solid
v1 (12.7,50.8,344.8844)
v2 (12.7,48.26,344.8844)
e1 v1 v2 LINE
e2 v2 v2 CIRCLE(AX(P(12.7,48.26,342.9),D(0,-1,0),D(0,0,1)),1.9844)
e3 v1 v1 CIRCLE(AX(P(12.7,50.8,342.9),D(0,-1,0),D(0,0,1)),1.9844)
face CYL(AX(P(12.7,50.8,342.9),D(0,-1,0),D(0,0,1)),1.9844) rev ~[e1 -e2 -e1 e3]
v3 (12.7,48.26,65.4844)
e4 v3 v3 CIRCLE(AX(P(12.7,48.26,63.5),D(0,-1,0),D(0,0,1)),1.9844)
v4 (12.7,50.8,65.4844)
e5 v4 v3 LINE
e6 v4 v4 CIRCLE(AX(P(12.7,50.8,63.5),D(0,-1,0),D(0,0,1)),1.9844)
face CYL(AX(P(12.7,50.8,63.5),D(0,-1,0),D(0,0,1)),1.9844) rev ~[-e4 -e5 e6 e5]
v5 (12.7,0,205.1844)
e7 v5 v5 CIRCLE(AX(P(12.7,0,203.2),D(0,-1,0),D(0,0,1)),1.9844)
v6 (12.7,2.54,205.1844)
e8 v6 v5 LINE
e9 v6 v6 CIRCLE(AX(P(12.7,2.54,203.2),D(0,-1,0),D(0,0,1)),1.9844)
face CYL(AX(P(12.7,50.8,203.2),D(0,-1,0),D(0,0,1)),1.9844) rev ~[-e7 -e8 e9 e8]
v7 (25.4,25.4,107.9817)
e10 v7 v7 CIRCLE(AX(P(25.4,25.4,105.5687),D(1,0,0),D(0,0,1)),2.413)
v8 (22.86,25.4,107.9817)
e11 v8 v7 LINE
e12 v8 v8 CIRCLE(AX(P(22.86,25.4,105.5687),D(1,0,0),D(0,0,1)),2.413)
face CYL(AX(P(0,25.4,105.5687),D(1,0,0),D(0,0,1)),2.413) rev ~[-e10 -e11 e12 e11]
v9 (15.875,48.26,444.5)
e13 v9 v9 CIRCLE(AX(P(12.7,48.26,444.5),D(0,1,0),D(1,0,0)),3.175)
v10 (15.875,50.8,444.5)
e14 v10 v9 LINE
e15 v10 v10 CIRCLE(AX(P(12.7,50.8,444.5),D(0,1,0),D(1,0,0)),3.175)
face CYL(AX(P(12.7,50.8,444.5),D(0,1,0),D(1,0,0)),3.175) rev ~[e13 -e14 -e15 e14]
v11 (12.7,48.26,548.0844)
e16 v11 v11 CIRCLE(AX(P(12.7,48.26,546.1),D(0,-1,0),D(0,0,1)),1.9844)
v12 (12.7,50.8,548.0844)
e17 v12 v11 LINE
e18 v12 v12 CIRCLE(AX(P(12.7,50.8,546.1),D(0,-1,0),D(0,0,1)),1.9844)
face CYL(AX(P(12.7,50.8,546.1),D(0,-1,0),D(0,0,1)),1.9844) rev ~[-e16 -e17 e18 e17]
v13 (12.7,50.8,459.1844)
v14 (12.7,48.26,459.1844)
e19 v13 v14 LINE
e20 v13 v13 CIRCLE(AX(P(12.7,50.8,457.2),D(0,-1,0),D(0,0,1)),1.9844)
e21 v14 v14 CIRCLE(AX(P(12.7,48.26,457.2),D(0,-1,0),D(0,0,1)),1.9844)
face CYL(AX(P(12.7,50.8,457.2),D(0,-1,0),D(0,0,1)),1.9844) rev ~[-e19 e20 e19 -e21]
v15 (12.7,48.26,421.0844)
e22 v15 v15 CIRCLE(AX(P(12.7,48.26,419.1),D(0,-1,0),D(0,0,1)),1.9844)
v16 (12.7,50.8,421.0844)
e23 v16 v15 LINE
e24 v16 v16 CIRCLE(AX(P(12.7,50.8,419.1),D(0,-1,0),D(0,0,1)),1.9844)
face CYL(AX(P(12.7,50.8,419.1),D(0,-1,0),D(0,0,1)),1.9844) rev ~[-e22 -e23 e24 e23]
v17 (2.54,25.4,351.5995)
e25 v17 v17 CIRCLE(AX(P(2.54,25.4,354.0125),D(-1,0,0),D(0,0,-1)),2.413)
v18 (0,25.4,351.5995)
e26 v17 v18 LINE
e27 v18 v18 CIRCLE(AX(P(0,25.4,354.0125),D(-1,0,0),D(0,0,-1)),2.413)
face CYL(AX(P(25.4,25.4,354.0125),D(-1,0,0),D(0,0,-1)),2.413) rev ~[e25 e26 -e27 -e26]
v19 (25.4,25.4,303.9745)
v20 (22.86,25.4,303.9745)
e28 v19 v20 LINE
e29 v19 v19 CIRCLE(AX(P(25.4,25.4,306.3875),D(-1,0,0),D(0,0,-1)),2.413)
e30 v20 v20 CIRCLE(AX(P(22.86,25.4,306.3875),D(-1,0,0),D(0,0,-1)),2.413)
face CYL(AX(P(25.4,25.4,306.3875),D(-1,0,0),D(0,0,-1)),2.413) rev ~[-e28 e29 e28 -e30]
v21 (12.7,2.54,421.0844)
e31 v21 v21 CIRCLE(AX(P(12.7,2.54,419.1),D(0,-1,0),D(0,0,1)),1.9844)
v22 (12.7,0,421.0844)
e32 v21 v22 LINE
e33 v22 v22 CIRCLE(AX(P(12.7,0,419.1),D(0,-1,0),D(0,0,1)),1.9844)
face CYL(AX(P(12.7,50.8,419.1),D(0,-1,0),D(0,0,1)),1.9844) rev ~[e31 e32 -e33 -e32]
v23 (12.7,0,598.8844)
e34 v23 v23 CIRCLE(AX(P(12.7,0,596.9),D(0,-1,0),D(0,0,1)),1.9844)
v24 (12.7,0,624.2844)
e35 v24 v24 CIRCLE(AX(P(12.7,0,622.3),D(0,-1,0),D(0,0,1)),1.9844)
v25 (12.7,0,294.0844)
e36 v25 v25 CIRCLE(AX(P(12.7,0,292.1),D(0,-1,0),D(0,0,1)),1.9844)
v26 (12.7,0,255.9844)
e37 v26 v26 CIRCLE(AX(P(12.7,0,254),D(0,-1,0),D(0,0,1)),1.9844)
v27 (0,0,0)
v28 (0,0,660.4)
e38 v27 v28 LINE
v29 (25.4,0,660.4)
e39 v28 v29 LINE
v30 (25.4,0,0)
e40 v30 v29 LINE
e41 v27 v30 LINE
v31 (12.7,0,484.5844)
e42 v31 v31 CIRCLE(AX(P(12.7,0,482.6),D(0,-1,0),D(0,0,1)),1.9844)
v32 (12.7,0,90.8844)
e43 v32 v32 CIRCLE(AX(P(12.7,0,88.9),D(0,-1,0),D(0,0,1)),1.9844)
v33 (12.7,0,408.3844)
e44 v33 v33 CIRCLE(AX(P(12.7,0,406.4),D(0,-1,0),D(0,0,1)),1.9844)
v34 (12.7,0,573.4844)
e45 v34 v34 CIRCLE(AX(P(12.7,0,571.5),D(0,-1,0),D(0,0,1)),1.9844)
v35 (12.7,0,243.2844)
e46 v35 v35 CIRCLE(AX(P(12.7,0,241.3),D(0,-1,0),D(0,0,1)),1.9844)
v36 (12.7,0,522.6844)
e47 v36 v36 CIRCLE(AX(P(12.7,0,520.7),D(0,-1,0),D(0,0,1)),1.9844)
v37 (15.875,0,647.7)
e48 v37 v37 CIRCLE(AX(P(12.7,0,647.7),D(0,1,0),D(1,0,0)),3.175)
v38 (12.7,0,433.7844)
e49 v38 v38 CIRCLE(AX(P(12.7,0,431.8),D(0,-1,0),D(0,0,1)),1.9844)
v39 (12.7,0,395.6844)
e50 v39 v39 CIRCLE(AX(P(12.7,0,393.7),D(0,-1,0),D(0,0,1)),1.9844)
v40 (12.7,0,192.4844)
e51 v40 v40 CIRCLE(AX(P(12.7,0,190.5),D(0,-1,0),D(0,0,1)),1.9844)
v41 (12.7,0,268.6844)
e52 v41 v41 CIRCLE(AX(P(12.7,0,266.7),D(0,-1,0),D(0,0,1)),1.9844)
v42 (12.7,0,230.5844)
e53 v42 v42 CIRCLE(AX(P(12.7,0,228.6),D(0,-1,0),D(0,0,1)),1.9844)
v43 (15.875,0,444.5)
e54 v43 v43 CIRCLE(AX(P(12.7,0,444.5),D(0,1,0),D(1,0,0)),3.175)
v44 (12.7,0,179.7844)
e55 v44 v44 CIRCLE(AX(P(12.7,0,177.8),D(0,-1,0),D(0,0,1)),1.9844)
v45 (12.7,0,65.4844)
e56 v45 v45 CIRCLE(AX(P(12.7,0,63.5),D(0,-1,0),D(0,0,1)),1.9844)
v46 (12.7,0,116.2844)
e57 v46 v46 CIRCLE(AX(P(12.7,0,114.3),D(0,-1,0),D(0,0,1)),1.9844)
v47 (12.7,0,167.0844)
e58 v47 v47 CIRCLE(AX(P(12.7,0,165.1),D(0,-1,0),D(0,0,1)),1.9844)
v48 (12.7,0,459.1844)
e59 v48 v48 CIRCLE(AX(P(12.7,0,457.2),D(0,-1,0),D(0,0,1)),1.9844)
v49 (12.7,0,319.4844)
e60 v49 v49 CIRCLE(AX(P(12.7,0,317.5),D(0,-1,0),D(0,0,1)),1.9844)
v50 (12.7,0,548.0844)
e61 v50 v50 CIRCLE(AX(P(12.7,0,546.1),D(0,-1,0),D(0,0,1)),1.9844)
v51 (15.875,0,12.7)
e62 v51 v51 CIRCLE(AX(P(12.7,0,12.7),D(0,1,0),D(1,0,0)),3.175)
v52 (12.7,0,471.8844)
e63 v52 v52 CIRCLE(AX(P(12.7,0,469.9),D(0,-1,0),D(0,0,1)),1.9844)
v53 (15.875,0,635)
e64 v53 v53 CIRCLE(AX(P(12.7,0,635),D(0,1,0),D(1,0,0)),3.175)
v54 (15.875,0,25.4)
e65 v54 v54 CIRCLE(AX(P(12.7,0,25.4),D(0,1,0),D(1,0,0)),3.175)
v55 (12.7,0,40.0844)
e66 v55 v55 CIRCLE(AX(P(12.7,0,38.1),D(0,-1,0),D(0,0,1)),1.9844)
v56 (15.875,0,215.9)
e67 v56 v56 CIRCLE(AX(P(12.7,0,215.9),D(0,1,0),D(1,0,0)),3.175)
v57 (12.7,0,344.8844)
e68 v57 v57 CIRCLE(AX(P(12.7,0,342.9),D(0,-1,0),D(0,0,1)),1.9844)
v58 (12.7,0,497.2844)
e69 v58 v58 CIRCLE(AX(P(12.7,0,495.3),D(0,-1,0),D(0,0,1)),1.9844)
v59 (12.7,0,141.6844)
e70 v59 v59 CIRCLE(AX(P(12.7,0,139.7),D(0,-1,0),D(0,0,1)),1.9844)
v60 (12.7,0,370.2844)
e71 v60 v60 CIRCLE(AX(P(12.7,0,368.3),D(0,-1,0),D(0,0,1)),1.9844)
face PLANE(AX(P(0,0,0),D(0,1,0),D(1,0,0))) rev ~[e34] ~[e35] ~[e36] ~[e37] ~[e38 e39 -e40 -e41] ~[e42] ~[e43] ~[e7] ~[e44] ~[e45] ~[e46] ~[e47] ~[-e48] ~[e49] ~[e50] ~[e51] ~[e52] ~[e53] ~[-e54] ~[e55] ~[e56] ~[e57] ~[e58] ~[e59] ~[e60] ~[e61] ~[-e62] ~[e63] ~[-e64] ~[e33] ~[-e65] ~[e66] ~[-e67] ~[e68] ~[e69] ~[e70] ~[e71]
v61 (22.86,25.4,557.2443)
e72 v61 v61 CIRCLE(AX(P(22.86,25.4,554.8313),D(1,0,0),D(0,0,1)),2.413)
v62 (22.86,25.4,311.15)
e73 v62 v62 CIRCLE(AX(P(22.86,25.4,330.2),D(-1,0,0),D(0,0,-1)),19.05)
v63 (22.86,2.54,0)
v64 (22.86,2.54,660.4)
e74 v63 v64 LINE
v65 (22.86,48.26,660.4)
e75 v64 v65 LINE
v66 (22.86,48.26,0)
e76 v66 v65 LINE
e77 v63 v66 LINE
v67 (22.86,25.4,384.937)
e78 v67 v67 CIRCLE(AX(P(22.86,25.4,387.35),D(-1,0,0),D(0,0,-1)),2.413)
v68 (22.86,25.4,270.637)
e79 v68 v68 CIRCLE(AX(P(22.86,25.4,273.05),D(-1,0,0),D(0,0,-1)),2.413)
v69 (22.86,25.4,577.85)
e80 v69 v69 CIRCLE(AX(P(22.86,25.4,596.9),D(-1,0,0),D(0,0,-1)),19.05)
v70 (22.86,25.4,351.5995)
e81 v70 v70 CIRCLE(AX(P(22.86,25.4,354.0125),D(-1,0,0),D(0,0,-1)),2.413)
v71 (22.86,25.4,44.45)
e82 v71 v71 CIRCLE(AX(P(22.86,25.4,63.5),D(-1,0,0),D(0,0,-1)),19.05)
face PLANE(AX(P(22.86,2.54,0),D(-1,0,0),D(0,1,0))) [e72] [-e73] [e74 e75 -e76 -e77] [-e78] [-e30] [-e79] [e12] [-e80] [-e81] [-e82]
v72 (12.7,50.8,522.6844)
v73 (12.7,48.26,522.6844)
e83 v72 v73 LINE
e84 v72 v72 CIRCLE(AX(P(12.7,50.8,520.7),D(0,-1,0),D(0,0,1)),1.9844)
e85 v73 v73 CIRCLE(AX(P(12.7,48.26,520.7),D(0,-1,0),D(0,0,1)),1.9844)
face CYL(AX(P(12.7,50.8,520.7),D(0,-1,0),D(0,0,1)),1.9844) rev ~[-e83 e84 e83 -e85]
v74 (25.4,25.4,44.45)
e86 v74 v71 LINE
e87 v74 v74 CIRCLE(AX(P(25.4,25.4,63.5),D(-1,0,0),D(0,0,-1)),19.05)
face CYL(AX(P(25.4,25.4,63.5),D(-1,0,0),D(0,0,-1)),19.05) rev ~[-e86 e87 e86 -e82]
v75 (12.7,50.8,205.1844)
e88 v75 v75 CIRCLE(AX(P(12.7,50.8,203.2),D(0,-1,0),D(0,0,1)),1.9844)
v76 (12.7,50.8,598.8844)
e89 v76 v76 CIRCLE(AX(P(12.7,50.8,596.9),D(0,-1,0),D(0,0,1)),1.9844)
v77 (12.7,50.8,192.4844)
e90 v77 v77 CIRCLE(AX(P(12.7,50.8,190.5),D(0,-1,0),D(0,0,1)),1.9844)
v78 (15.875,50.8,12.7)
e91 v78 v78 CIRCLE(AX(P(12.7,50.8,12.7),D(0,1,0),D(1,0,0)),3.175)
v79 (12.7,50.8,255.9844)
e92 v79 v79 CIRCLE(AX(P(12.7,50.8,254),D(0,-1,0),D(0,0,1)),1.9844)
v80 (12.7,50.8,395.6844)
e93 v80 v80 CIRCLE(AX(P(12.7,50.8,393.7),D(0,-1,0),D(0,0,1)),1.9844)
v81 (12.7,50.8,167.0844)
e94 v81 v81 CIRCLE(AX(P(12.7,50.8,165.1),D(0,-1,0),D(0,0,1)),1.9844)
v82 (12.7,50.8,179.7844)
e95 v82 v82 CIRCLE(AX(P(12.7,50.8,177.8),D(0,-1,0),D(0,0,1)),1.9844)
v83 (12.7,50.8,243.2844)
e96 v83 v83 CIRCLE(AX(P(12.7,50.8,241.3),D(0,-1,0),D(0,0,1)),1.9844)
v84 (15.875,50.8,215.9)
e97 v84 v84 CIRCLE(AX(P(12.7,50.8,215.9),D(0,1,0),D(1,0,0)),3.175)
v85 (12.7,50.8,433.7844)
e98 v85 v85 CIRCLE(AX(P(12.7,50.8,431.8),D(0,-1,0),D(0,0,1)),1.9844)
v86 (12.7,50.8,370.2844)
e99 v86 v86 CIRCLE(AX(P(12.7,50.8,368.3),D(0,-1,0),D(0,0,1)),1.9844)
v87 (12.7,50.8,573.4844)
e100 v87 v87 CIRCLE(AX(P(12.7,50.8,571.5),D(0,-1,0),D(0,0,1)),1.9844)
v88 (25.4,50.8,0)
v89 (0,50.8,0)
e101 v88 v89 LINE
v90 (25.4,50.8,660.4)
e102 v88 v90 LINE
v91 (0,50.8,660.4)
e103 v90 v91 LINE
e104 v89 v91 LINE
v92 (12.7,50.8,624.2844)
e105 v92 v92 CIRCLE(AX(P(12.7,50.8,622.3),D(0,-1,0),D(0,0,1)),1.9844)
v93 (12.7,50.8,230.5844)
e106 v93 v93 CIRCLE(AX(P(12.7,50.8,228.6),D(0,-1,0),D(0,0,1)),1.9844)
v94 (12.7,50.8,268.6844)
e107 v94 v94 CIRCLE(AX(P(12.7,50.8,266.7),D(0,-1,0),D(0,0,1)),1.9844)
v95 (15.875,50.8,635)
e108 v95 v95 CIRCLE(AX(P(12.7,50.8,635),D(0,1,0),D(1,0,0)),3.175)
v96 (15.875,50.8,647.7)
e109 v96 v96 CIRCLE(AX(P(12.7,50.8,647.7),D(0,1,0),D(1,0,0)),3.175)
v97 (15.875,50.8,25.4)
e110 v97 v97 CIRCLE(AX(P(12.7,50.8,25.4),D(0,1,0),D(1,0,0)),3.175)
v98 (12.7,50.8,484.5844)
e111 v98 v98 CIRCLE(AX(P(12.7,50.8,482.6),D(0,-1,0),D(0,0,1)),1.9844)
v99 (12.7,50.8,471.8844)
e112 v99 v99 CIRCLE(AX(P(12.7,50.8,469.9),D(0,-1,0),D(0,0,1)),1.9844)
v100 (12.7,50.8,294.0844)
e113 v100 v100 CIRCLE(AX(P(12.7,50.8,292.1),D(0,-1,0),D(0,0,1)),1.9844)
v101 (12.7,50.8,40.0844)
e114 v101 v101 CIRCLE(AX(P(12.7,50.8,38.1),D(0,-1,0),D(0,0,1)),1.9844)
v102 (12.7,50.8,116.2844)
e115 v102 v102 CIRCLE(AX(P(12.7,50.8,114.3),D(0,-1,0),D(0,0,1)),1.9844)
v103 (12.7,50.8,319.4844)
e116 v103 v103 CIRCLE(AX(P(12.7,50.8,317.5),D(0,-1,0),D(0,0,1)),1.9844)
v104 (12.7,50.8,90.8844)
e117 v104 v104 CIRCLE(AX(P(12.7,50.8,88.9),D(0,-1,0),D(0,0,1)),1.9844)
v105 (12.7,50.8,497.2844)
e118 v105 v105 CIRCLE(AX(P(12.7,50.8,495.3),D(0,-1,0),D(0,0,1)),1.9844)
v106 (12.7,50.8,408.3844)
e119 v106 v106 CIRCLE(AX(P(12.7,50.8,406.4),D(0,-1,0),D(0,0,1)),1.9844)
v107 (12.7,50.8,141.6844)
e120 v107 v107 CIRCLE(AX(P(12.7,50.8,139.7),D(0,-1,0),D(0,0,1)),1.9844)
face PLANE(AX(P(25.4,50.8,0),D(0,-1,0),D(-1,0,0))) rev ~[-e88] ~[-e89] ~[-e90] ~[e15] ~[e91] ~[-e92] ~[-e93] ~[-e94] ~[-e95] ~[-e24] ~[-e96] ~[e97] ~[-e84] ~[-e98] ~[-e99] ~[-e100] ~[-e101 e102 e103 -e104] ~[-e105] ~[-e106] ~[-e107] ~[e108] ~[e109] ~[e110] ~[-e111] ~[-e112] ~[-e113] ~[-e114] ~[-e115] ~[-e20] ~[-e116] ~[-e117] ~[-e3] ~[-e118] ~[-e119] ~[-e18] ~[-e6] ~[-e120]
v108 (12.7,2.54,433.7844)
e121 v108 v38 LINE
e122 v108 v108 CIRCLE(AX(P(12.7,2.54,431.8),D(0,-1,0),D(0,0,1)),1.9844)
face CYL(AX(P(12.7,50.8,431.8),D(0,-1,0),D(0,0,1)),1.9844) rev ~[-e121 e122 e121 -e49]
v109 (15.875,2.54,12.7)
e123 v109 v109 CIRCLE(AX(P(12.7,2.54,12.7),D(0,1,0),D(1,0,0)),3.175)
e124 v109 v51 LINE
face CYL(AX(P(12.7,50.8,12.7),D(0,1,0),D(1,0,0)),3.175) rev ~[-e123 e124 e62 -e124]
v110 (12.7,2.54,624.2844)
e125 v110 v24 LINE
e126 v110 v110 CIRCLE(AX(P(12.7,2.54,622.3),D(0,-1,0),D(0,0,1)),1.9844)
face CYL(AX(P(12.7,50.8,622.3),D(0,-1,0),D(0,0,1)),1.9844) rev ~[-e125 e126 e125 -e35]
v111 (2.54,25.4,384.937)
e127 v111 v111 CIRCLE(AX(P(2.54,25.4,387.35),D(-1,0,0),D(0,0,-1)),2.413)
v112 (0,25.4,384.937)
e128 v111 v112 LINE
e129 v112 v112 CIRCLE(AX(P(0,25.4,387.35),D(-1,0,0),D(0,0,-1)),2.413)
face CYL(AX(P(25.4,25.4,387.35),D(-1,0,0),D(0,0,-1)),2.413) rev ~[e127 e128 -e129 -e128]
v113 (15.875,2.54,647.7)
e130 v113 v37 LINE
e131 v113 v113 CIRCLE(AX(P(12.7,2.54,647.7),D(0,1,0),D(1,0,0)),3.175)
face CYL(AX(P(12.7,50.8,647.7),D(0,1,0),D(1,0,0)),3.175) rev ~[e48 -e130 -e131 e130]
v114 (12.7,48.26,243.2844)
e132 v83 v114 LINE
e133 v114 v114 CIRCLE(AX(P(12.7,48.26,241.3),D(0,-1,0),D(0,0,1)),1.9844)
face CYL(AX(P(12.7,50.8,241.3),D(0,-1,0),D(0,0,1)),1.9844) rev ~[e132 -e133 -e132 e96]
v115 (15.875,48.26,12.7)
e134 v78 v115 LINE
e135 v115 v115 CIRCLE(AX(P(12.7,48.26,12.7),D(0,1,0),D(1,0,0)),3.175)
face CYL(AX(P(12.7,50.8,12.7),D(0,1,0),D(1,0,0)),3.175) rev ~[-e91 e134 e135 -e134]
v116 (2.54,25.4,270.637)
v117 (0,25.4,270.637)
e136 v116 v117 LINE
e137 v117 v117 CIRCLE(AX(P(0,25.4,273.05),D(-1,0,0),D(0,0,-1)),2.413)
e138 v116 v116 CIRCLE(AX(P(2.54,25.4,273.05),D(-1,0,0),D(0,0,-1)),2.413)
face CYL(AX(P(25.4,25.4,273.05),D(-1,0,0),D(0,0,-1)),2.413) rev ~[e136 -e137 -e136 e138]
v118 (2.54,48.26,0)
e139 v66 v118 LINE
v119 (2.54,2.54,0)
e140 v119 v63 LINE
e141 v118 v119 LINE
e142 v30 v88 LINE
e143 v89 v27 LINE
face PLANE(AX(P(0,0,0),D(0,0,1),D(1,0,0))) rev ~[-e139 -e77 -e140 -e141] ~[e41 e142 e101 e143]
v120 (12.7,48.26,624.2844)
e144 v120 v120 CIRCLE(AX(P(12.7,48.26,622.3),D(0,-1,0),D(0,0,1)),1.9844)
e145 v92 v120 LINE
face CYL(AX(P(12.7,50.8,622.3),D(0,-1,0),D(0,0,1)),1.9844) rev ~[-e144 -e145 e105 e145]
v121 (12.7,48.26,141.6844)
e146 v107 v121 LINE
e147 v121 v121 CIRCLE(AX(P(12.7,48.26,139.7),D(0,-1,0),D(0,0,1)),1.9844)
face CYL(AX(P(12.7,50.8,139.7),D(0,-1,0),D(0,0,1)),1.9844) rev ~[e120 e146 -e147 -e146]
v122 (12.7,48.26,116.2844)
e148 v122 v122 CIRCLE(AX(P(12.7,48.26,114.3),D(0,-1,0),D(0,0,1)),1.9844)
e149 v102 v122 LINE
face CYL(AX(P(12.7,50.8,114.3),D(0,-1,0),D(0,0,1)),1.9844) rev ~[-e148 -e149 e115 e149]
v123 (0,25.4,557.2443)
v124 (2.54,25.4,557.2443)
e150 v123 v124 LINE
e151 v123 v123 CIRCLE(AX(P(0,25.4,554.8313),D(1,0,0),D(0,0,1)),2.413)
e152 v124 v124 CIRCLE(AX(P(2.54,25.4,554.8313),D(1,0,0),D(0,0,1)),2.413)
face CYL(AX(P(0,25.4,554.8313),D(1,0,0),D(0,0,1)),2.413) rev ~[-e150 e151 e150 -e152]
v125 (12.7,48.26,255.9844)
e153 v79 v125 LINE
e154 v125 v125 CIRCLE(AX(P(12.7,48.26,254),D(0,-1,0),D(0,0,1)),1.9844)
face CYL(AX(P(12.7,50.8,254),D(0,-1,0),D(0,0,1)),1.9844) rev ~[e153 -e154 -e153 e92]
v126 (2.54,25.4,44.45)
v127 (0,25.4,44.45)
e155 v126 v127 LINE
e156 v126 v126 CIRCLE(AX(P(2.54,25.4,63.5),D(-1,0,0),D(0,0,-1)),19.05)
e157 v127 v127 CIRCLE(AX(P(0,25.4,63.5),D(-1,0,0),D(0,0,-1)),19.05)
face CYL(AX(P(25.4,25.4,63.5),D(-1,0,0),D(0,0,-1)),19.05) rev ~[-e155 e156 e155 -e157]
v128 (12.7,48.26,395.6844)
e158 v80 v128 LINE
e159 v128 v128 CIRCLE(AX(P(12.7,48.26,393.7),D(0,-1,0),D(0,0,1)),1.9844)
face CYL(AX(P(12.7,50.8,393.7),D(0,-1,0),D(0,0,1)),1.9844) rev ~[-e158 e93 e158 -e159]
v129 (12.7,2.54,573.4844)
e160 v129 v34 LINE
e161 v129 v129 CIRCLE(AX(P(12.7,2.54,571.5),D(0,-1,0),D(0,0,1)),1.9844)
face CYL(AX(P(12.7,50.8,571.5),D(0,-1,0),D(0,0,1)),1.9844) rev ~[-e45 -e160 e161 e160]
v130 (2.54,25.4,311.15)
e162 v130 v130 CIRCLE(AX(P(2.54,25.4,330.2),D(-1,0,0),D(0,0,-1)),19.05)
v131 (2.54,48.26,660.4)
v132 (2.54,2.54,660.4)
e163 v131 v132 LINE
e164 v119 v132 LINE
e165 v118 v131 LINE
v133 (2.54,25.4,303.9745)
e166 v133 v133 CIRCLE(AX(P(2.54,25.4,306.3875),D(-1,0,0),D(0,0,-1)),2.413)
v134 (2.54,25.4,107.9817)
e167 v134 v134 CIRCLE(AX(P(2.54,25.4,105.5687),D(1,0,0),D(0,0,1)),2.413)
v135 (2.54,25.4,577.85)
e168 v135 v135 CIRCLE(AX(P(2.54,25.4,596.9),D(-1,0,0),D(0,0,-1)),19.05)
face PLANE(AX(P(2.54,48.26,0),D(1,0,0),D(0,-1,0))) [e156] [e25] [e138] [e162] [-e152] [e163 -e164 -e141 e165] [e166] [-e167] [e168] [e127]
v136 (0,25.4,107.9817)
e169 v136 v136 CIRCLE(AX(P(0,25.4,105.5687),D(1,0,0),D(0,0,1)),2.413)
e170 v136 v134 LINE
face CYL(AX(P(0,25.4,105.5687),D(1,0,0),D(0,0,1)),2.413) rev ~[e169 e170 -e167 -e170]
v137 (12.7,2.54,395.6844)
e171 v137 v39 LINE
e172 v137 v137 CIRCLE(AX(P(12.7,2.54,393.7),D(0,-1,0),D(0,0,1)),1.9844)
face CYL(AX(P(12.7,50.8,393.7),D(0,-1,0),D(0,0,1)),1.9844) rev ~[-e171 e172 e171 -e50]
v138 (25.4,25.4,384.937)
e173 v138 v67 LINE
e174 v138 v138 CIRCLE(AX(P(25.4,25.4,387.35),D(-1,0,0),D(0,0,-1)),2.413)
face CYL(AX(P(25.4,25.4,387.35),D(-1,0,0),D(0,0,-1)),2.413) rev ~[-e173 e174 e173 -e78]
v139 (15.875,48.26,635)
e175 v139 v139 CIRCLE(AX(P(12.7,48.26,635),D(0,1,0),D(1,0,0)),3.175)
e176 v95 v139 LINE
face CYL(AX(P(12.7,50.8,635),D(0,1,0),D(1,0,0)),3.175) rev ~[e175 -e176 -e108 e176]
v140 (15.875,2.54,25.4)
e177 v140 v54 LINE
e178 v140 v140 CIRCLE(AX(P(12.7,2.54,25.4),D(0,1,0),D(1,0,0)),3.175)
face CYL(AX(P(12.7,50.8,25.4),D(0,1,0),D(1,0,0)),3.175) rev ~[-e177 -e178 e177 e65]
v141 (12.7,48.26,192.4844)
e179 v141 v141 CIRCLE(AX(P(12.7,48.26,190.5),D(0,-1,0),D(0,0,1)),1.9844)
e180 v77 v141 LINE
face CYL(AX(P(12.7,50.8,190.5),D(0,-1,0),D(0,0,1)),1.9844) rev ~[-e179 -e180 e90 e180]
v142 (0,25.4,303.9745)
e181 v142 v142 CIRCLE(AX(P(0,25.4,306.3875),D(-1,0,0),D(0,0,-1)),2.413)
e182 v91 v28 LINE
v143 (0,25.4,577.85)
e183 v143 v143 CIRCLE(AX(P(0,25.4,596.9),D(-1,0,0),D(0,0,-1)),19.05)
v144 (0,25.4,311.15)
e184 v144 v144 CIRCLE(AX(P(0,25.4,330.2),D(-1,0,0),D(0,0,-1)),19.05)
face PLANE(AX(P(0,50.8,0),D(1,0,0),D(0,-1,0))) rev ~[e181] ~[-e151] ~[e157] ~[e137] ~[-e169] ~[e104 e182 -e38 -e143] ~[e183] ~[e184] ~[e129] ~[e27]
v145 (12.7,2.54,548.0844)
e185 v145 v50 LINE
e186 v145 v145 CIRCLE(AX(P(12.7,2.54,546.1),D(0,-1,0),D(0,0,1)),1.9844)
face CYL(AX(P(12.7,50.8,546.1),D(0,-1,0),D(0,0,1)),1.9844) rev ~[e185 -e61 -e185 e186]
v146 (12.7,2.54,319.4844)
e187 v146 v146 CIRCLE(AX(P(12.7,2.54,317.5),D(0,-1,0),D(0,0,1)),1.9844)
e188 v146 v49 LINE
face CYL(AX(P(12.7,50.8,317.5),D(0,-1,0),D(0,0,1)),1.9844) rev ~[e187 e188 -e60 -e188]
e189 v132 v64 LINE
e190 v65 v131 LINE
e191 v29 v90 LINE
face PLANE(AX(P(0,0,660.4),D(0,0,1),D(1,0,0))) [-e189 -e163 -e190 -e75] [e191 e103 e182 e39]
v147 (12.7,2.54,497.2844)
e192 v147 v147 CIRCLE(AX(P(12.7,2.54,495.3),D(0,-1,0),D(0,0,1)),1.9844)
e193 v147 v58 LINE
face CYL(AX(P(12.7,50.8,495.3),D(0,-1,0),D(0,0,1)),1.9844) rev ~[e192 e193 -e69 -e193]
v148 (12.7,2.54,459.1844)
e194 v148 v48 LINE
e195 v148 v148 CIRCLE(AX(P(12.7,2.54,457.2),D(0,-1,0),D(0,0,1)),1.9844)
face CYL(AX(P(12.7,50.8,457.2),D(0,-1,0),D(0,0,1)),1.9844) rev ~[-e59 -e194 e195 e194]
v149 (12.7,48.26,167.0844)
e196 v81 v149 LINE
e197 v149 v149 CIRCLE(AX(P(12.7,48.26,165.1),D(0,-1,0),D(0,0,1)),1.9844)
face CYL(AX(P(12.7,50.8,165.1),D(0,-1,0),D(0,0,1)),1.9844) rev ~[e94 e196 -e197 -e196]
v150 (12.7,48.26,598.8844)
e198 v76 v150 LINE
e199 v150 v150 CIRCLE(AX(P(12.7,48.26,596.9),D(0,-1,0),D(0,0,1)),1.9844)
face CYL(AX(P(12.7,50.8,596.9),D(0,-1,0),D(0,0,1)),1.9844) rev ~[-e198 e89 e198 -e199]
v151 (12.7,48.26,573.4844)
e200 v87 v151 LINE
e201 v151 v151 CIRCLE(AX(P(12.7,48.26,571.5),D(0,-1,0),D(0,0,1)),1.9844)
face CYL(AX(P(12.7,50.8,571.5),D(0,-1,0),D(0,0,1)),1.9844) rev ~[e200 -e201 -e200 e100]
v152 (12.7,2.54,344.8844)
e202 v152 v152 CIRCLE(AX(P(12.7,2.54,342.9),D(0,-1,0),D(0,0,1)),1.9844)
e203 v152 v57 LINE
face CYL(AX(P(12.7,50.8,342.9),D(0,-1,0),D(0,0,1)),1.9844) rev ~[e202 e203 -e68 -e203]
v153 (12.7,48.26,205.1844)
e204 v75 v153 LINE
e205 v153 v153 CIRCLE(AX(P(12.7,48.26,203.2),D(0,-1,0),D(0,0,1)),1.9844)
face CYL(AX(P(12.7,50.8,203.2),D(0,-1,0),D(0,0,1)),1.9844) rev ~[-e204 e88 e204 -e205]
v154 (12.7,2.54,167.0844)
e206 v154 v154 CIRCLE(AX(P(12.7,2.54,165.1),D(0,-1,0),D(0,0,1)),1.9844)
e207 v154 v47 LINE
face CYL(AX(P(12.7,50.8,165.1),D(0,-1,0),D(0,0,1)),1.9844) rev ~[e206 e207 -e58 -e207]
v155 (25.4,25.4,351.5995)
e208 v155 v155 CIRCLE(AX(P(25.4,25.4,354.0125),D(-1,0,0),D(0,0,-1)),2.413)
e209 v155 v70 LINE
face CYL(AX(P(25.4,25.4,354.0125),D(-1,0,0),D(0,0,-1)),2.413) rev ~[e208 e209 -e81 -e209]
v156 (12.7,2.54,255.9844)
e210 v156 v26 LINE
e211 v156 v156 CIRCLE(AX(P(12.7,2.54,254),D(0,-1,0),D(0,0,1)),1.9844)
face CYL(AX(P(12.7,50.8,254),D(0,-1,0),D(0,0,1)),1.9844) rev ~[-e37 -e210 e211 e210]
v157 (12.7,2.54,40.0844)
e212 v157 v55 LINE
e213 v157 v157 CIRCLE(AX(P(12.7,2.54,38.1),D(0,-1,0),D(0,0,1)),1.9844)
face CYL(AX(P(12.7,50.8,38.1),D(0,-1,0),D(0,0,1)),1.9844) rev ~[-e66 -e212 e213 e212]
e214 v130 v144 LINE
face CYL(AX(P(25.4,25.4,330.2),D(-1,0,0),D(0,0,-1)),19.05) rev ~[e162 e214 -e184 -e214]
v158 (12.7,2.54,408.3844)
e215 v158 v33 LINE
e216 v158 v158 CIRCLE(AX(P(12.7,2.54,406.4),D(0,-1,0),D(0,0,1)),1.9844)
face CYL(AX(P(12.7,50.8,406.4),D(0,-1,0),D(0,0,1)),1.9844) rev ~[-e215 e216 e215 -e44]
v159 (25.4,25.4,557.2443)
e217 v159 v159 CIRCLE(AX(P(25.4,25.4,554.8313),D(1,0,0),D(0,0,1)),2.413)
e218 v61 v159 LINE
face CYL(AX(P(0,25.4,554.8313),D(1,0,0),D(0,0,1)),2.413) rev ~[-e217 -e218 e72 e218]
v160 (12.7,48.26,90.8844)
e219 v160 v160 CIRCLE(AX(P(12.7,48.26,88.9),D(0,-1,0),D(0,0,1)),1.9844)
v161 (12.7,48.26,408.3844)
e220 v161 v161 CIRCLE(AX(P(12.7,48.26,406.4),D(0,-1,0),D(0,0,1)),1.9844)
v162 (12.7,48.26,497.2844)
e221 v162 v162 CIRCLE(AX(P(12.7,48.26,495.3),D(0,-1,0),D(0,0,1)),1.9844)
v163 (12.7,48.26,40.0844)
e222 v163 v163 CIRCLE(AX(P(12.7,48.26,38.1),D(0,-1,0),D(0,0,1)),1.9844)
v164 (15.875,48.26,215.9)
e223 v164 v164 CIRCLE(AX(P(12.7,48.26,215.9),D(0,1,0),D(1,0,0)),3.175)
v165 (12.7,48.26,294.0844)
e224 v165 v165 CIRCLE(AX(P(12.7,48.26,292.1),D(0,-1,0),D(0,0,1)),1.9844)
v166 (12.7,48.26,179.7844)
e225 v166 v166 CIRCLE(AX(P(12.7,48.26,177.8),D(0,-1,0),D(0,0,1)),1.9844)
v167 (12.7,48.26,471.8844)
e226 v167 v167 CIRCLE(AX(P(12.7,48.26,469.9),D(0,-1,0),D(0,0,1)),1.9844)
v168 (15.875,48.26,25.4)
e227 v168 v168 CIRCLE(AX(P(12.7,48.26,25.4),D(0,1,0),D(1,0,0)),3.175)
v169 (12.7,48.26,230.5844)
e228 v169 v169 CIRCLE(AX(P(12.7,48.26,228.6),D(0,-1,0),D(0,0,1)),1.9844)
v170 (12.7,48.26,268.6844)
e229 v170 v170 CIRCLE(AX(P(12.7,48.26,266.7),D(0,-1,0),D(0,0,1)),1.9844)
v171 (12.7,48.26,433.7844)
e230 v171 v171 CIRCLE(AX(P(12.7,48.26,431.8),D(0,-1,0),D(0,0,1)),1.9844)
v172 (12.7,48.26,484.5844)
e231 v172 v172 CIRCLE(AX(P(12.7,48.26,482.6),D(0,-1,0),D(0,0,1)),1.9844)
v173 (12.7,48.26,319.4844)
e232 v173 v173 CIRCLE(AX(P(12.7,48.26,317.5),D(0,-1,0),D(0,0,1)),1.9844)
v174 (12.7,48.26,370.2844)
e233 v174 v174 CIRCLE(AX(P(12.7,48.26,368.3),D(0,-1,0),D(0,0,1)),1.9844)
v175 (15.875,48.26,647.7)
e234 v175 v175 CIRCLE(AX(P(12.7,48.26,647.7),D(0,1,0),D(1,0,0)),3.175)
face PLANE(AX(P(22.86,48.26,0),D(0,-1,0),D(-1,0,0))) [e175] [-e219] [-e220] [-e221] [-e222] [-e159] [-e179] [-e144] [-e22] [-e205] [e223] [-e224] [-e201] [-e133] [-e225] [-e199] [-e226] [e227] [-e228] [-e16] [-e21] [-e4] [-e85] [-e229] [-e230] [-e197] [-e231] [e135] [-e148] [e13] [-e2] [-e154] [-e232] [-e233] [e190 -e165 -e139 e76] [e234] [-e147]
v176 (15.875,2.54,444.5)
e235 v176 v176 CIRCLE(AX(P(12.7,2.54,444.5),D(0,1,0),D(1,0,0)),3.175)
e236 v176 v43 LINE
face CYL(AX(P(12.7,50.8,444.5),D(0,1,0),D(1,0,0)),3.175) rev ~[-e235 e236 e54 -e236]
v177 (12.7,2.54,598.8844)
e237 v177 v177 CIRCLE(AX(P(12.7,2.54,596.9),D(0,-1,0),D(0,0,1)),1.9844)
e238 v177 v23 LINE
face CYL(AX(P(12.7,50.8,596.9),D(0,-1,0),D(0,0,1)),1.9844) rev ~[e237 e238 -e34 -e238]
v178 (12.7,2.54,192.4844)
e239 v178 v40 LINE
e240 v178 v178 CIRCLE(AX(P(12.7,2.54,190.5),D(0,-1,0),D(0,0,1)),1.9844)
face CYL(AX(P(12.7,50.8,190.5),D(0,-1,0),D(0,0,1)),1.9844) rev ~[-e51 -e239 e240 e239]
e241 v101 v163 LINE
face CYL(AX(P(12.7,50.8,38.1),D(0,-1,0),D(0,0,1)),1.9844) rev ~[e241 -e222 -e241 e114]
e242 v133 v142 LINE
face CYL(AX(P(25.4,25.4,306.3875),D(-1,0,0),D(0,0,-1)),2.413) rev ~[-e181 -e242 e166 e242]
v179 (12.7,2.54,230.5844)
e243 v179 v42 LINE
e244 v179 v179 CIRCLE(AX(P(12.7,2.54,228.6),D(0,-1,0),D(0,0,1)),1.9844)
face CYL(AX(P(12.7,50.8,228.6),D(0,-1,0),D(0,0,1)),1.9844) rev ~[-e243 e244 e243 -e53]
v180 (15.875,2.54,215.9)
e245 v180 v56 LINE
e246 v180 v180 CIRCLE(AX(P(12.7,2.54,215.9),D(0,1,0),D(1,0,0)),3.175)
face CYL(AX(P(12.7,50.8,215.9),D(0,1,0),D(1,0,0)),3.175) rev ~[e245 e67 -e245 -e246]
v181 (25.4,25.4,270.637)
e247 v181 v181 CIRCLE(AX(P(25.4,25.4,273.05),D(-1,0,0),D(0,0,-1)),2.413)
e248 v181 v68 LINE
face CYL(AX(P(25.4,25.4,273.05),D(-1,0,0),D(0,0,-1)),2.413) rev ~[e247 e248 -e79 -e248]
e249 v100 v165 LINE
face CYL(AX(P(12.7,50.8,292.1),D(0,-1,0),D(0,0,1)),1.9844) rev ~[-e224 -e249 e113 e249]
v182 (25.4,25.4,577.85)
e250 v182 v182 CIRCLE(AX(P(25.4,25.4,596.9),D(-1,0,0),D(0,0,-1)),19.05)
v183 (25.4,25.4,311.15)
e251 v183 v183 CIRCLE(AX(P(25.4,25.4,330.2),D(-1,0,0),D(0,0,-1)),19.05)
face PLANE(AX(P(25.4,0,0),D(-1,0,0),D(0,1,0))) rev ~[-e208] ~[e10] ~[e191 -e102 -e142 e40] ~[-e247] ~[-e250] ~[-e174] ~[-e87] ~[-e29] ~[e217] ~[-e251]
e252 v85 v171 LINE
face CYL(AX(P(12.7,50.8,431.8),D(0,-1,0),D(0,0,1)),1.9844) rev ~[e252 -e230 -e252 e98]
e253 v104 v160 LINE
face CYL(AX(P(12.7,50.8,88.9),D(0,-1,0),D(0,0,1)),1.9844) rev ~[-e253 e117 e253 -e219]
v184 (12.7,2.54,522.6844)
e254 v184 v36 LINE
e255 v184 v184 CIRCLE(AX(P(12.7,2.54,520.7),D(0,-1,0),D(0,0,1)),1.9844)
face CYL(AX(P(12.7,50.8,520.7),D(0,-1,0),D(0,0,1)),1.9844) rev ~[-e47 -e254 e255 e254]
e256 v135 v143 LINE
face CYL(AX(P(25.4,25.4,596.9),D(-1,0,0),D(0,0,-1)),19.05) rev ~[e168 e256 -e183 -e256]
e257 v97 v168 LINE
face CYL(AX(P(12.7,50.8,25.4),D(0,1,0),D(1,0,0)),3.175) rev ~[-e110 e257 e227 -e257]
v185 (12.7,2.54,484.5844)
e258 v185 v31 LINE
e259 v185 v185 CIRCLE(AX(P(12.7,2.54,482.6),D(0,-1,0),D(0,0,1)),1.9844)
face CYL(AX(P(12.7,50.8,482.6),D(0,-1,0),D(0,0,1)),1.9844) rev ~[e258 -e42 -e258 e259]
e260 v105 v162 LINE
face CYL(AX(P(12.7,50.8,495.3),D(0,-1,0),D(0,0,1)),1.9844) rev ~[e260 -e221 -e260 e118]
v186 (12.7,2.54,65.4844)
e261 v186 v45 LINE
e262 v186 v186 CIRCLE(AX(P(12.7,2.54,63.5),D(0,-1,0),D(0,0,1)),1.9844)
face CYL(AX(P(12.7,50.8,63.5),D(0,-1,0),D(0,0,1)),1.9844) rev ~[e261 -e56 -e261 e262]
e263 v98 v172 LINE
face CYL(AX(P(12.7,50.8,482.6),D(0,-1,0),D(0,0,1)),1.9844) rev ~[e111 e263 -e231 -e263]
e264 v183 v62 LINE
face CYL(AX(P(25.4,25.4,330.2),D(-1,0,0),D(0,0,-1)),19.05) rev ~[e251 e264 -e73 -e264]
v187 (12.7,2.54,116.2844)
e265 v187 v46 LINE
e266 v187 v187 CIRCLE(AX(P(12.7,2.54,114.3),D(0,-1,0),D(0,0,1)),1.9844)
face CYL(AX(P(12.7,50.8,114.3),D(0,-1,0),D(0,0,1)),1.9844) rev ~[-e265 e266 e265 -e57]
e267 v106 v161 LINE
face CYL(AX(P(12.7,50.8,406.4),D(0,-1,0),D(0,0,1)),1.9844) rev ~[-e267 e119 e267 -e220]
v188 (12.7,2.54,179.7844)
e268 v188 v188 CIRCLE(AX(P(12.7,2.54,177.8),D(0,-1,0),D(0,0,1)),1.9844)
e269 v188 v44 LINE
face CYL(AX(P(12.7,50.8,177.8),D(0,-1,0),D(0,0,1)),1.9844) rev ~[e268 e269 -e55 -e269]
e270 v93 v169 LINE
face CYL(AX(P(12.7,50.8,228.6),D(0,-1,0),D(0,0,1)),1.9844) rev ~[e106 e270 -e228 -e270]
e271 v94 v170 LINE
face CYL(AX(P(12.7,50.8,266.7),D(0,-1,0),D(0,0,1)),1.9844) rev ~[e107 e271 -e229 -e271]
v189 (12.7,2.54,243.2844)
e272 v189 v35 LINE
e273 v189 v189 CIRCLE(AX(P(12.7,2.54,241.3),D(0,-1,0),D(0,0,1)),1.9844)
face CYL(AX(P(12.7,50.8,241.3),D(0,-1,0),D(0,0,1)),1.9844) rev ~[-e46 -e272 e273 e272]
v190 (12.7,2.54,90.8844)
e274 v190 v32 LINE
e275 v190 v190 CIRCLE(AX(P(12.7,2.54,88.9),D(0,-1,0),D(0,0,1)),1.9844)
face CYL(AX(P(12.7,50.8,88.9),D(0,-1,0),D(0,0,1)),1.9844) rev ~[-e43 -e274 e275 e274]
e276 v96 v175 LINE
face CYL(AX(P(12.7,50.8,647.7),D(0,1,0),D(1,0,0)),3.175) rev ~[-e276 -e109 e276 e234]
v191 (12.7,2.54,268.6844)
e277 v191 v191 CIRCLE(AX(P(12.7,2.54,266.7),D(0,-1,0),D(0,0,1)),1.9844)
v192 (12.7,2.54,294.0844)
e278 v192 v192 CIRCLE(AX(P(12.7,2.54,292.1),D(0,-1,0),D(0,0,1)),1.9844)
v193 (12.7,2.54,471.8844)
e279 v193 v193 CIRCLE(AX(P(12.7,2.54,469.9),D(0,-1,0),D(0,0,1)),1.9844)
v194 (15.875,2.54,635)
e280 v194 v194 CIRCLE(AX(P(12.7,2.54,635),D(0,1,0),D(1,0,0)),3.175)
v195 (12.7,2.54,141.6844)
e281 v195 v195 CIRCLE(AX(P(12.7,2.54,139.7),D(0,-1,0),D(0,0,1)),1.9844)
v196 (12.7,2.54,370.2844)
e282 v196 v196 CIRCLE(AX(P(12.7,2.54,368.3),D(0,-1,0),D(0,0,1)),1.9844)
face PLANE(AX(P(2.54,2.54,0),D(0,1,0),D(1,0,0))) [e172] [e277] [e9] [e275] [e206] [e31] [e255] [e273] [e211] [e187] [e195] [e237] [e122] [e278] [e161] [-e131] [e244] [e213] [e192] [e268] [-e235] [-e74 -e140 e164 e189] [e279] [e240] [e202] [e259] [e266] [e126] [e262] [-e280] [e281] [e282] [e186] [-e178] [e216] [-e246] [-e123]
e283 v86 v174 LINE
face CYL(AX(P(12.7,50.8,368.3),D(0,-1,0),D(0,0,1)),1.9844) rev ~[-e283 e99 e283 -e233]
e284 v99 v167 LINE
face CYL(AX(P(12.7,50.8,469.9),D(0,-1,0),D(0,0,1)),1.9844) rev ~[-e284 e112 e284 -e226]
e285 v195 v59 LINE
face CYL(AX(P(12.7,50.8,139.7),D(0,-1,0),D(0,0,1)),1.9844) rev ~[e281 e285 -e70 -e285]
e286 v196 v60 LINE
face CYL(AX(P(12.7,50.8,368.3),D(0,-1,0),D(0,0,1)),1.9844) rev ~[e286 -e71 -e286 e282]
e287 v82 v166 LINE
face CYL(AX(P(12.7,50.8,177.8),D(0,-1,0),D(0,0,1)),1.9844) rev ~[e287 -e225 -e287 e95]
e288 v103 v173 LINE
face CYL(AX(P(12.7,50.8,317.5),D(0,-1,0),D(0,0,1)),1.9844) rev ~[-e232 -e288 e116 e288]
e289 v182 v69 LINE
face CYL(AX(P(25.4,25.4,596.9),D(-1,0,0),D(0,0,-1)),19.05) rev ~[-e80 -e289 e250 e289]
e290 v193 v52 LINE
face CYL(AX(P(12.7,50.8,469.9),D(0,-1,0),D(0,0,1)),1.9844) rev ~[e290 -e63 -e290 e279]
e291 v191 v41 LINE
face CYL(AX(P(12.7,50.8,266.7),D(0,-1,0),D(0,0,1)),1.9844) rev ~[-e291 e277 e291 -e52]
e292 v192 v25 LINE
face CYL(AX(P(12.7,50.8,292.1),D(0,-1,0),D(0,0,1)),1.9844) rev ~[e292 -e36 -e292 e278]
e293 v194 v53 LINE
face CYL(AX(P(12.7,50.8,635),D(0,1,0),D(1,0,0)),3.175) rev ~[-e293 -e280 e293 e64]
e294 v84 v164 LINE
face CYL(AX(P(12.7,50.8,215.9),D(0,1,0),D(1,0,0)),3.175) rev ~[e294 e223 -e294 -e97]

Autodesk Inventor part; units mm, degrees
ref_plane "YZ Plane" through (0, 0, 0) normal (1, 0, 0) x (0, 1, 0)
ref_plane "XZ Plane" through (0, 0, 0) normal (0, 1, 0) x (-1, 0, 0)
ref_plane "XY Plane" through (0, 0, 0) normal (0, 0, 1) x (1, 0, 0)
sketch "Sketch1" plane through (0, 0, 0) normal (0, 0, 1) x (1, 0, 0)
  line L0 (0, 0) -> (25.4, 0)
  line L1 (25.4, 0) -> (25.4, 50.8)
  line L2 (25.4, 50.8) -> (0, 50.8)
  line L3 (0, 50.8) -> (0, 0)
  line L4 (2.54, 2.54) -> (22.86, 2.54)
  line L5 (22.86, 2.54) -> (22.86, 48.26)
  line L6 (22.86, 48.26) -> (2.54, 48.26)
  line L7 (2.54, 48.26) -> (2.54, 2.54)
  dimension "d0" = 25.4
  dimension "d1" = 50.8
  dimension "d2" = 45.72
  dimension "d3" = 20.32
  dimension "d4" = 2.54
  dimension "d5" = 2.54
extrude "Extrusion1" add sketch "Sketch1" along normal blind 660.4
sketch "Sketch2" plane through (0, 50.8, 0) normal (0, 1, 0) x (1, 0, 0)
  line L0 (25.4, 0) -> (0, 0) projected
  line L1 (0, 0) -> (0, -660.4) projected
  line L2 (25.4, -660.4) -> (0, -660.4) projected
  line L3 (25.4, 0) -> (25.4, -660.4) projected
  point P0 (12.7, -12.7)
  dimension "d8" = 12.7
  dimension "d9" = 12.7
hole "Hole1" at (12.7, 50.8, 12.7) direction (0, -1, 0) diameter 3.9688 end through all
pattern_linear "Rectangular Pattern1" count 26 spacing 25.4 along (0, 0, 1) of "Hole1"
sketch "Sketch3" plane through (25.4, 0, 0) normal (1, 0, 0) x (0, 0, -1)
  line L0 (0, 0) -> (0, 50.8) projected
  line L1 (0, 50.8) -> (-660.4, 50.8) projected
  line L2 (-660.4, 0) -> (-660.4, 50.8) projected
  line L3 (0, 0) -> (-660.4, 0) projected
  point P0 (-596.9, 25.4)
  point P1 (-330.2, 25.4)
  point P2 (-63.5, 25.4)
  dimension "d20" = 63.5
  dimension "d21" = 25.4
  dimension "d22" = 63.5
  dimension "d23" = 25.4
  dimension "d24" = 25.4
  dimension "d25" = 330.2
hole "Hole2" at (25.4, 25.4, 596.9) at (25.4, 25.4, 330.2) at (25.4, 25.4, 63.5) direction (-1, 0, 0) diameter 38.1 end through all
sketch "Sketch4" plane through (25.4, 0, 0) normal (1, 0, 0) x (0, 0, -1)
  circle A0 centre (-330.2, 25.4) radius 19.05 projected
  circle A1 centre (-596.9, 25.4) radius 19.05 projected
  circle A2 centre (-63.5, 25.4) radius 19.05 projected
  line L0 (0, 0) -> (0, 50.8) projected
  line L1 (0, 50.8) -> (-660.4, 50.8) projected
  line L2 (-660.4, 0) -> (-660.4, 50.8) projected
  line L3 (0, 0) -> (-660.4, 0) projected
  point P0 (-387.35, 25.4)
  point P1 (-273.05, 25.4)
  point P2 (-354.0125, 25.4)
  point P3 (-306.3875, 25.4)
  dimension "d33" = 57.15
  dimension "d34" = 57.15
  dimension "d35" = 25.4
  dimension "d36" = 25.4
  dimension "d37" = 25.4
  dimension "d38" = 25.4
  dimension "d39" = 23.8125
  dimension "d40" = 23.8125
hole "Hole3" at (25.4, 25.4, 387.35) at (25.4, 25.4, 273.05) at (25.4, 25.4, 354.0125) at (25.4, 25.4, 306.3875) direction (-1, 0, 0) diameter 4.826 end through all
sketch "Sketch5" plane through (0, 0, 0) normal (-1, 0, 0) x (0, 0, 1)
  circle A0 centre (354.0125, 25.4) radius 2.413 projected
  circle A1 centre (387.35, 25.4) radius 2.413 projected
  circle A2 centre (273.05, 25.4) radius 2.413 projected
  circle A3 centre (306.3875, 25.4) radius 2.413 projected
  circle A4 centre (330.2, 25.4) radius 19.05 projected
  circle A5 centre (596.9, 25.4) radius 19.05 projected
  circle A6 centre (63.5, 25.4) radius 19.05 projected
  line L0 (0, 50.8) -> (0, 0) projected
  line L1 (0, 0) -> (660.4, 0) projected
  line L2 (660.4, 50.8) -> (660.4, 0) projected
  line L3 (0, 50.8) -> (660.4, 50.8) projected
  point P0 (105.5687, 25.4)
  point P1 (554.8313, 25.4)
  dimension "d48" = 25.4
  dimension "d49" = 25.4
  dimension "d50" = 105.5687
  dimension "d51" = 105.5687
hole "Hole4" at (0, 25.4, 105.5687) at (0, 25.4, 554.8313) direction (1, 0, 0) diameter 4.826 end through all
sketch "Sketch6" plane through (0, 50.8, 0) normal (0, 1, 0) x (1, 0, 0)
  circle A0 centre (12.7, -647.7) radius 1.9844 projected
  circle A1 centre (12.7, -622.3) radius 1.9844 projected
  circle A2 centre (12.7, -596.9) radius 1.9844 projected
  circle A3 centre (12.7, -571.5) radius 1.9844 projected
  circle A4 centre (12.7, -546.1) radius 1.9844 projected
  circle A5 centre (12.7, -520.7) radius 1.9844 projected
  circle A6 centre (12.7, -495.3) radius 1.9844 projected
  circle A7 centre (12.7, -469.9) radius 1.9844 projected
  circle A8 centre (12.7, -444.5) radius 1.9844 projected
  circle A9 centre (12.7, -419.1) radius 1.9844 projected
  circle A10 centre (12.7, -393.7) radius 1.9844 projected
  circle A11 centre (12.7, -368.3) radius 1.9844 projected
  circle A12 centre (12.7, -342.9) radius 1.9844 projected
  circle A13 centre (12.7, -317.5) radius 1.9844 projected
  circle A14 centre (12.7, -292.1) radius 1.9844 projected
  circle A15 centre (12.7, -266.7) radius 1.9844 projected
  circle A16 centre (12.7, -241.3) radius 1.9844 projected
  circle A17 centre (12.7, -215.9) radius 1.9844 projected
  circle A18 centre (12.7, -190.5) radius 1.9844 projected
  circle A19 centre (12.7, -165.1) radius 1.9844 projected
  circle A20 centre (12.7, -139.7) radius 1.9844 projected
  circle A21 centre (12.7, -114.3) radius 1.9844 projected
  circle A22 centre (12.7, -88.9) radius 1.9844 projected
  circle A23 centre (12.7, -63.5) radius 1.9844 projected
  circle A24 centre (12.7, -38.1) radius 1.9844 projected
  circle A25 centre (12.7, -12.7) radius 1.9844 projected
  line L0 (25.4, 0) -> (0, 0) projected
  line L1 (0, 0) -> (0, -660.4) projected
  line L2 (25.4, -660.4) -> (0, -660.4) projected
  line L3 (25.4, 0) -> (25.4, -660.4) projected
  circle A26 centre (12.7, -647.7) radius 1.9844 projected
  circle A27 centre (12.7, -647.7) radius 3.175
  circle A28 centre (12.7, -12.7) radius 3.175
  circle A29 centre (12.7, -25.4) radius 3.175
  circle A30 centre (12.7, -635) radius 3.175
  dimension "d59" = 6.35
  dimension "d60" = 6.35
  dimension "d61" = 25.4
  dimension "d62" = 12.7
  dimension "d63" = 6.35
  dimension "d64" = 25.4
  dimension "d65" = 12.7
  dimension "d66" = 6.35
extrude "Extrusion2" cut sketch "Sketch6" against normal blind 50.8 contours A27 | A28 | A29 | A30
sketch "Sketch7" plane through (0, 50.8, 0) normal (0, 1, 0) x (1, 0, 0)
  circle A0 centre (12.7, -25.4) radius 3.175 projected
  circle A1 centre (12.7, -647.7) radius 3.175 projected
  circle A2 centre (12.7, -12.7) radius 3.175 projected
  circle A3 centre (12.7, -635) radius 3.175 projected
  circle A4 centre (12.7, -622.3) radius 1.9844 projected
  circle A5 centre (12.7, -596.9) radius 1.9844 projected
  circle A6 centre (12.7, -571.5) radius 1.9844 projected
  circle A7 centre (12.7, -546.1) radius 1.9844 projected
  circle A8 centre (12.7, -520.7) radius 1.9844 projected
  circle A9 centre (12.7, -495.3) radius 1.9844 projected
  circle A10 centre (12.7, -469.9) radius 1.9844 projected
  circle A11 centre (12.7, -444.5) radius 1.9844 projected
  circle A12 centre (12.7, -419.1) radius 1.9844 projected
  circle A13 centre (12.7, -393.7) radius 1.9844 projected
  circle A14 centre (12.7, -368.3) radius 1.9844 projected
  circle A15 centre (12.7, -342.9) radius 1.9844 projected
  circle A16 centre (12.7, -317.5) radius 1.9844 projected
  circle A17 centre (12.7, -292.1) radius 1.9844 projected
  circle A18 centre (12.7, -266.7) radius 1.9844 projected
  circle A19 centre (12.7, -241.3) radius 1.9844 projected
  circle A20 centre (12.7, -215.9) radius 1.9844 projected
  circle A21 centre (12.7, -190.5) radius 1.9844 projected
  circle A22 centre (12.7, -165.1) radius 1.9844 projected
  circle A23 centre (12.7, -139.7) radius 1.9844 projected
  circle A24 centre (12.7, -114.3) radius 1.9844 projected
  circle A25 centre (12.7, -88.9) radius 1.9844 projected
  circle A26 centre (12.7, -63.5) radius 1.9844 projected
  circle A27 centre (12.7, -38.1) radius 1.9844 projected
  line L0 (25.4, 0) -> (0, 0) projected
  line L1 (0, 0) -> (0, -660.4) projected
  line L2 (25.4, -660.4) -> (0, -660.4) projected
  line L3 (25.4, 0) -> (25.4, -660.4) projected
  point P0 (12.7, -482.6)
  point P1 (12.7, -457.2)
  point P2 (12.7, -431.8)
  point P3 (12.7, -406.4)
  point P4 (12.7, -254)
  point P5 (12.7, -228.6)
  point P6 (12.7, -203.2)
  point P7 (12.7, -177.8)
  dimension "d69" = 177.8
  dimension "d70" = 203.2
  dimension "d71" = 228.6
  dimension "d72" = 254
  dimension "d73" = 12.7
  dimension "d74" = 12.7
  dimension "d75" = 12.7
  dimension "d76" = 12.7
  dimension "d77" = 12.7
  dimension "d78" = 12.7
  dimension "d79" = 12.7
  dimension "d80" = 12.7
  dimension "d81" = 177.8
  dimension "d82" = 203.2
  dimension "d83" = 228.6
  dimension "d84" = 254
hole "Hole5" at (12.7, 50.8, 482.6) at (12.7, 50.8, 457.2) at (12.7, 50.8, 431.8) at (12.7, 50.8, 406.4) at (12.7, 50.8, 254) at (12.7, 50.8, 228.6) at (12.7, 50.8, 203.2) at (12.7, 50.8, 177.8) direction (0, -1, 0) diameter 3.9688 end through all
sketch "Sketch9" plane through (0, 50.8, 0) normal (0, 1, 0) x (1, 0, 0)
  circle A0 centre (12.7, -203.2) radius 1.9844 projected
  circle A1 centre (12.7, -254) radius 1.9844 projected
  circle A2 centre (12.7, -431.8) radius 1.9844 projected
  circle A3 centre (12.7, -482.6) radius 1.9844 projected
  circle A4 centre (12.7, -457.2) radius 1.9844 projected
  circle A5 centre (12.7, -406.4) radius 1.9844 projected
  circle A6 centre (12.7, -228.6) radius 1.9844 projected
  circle A7 centre (12.7, -177.8) radius 1.9844 projected
  circle A8 centre (12.7, -25.4) radius 3.175 projected
  circle A9 centre (12.7, -647.7) radius 3.175 projected
  circle A10 centre (12.7, -12.7) radius 3.175 projected
  circle A11 centre (12.7, -635) radius 3.175 projected
  circle A12 centre (12.7, -622.3) radius 1.9844 projected
  circle A13 centre (12.7, -596.9) radius 1.9844 projected
  circle A14 centre (12.7, -571.5) radius 1.9844 projected
  circle A15 centre (12.7, -546.1) radius 1.9844 projected
  circle A16 centre (12.7, -520.7) radius 1.9844 projected
  circle A17 centre (12.7, -495.3) radius 1.9844 projected
  circle A18 centre (12.7, -469.9) radius 1.9844 projected
  circle A19 centre (12.7, -444.5) radius 1.9844 projected
  circle A20 centre (12.7, -419.1) radius 1.9844 projected
  circle A21 centre (12.7, -393.7) radius 1.9844 projected
  circle A22 centre (12.7, -368.3) radius 1.9844 projected
  circle A23 centre (12.7, -342.9) radius 1.9844 projected
  circle A24 centre (12.7, -317.5) radius 1.9844 projected
  circle A25 centre (12.7, -292.1) radius 1.9844 projected
  circle A26 centre (12.7, -266.7) radius 1.9844 projected
  circle A27 centre (12.7, -241.3) radius 1.9844 projected
  circle A28 centre (12.7, -215.9) radius 1.9844 projected
  circle A29 centre (12.7, -190.5) radius 1.9844 projected
  circle A30 centre (12.7, -165.1) radius 1.9844 projected
  circle A31 centre (12.7, -139.7) radius 1.9844 projected
  circle A32 centre (12.7, -114.3) radius 1.9844 projected
  circle A33 centre (12.7, -88.9) radius 1.9844 projected
  circle A34 centre (12.7, -63.5) radius 1.9844 projected
  circle A35 centre (12.7, -38.1) radius 1.9844 projected
  line L0 (25.4, 0) -> (0, 0) projected
  line L1 (0, 0) -> (0, -660.4) projected
  line L2 (25.4, -660.4) -> (0, -660.4) projected
  line L3 (25.4, 0) -> (25.4, -660.4) projected
  circle A36 centre (12.7, -215.9) radius 3.175
  circle A37 centre (12.7, -444.5) radius 3.175
  dimension "d98" = 6.35
  dimension "d99" = 6.35
extrude "Extrusion4" cut sketch "Sketch9" against normal blind 50.8 contours A36 | A37
properties part number "frame_long"
